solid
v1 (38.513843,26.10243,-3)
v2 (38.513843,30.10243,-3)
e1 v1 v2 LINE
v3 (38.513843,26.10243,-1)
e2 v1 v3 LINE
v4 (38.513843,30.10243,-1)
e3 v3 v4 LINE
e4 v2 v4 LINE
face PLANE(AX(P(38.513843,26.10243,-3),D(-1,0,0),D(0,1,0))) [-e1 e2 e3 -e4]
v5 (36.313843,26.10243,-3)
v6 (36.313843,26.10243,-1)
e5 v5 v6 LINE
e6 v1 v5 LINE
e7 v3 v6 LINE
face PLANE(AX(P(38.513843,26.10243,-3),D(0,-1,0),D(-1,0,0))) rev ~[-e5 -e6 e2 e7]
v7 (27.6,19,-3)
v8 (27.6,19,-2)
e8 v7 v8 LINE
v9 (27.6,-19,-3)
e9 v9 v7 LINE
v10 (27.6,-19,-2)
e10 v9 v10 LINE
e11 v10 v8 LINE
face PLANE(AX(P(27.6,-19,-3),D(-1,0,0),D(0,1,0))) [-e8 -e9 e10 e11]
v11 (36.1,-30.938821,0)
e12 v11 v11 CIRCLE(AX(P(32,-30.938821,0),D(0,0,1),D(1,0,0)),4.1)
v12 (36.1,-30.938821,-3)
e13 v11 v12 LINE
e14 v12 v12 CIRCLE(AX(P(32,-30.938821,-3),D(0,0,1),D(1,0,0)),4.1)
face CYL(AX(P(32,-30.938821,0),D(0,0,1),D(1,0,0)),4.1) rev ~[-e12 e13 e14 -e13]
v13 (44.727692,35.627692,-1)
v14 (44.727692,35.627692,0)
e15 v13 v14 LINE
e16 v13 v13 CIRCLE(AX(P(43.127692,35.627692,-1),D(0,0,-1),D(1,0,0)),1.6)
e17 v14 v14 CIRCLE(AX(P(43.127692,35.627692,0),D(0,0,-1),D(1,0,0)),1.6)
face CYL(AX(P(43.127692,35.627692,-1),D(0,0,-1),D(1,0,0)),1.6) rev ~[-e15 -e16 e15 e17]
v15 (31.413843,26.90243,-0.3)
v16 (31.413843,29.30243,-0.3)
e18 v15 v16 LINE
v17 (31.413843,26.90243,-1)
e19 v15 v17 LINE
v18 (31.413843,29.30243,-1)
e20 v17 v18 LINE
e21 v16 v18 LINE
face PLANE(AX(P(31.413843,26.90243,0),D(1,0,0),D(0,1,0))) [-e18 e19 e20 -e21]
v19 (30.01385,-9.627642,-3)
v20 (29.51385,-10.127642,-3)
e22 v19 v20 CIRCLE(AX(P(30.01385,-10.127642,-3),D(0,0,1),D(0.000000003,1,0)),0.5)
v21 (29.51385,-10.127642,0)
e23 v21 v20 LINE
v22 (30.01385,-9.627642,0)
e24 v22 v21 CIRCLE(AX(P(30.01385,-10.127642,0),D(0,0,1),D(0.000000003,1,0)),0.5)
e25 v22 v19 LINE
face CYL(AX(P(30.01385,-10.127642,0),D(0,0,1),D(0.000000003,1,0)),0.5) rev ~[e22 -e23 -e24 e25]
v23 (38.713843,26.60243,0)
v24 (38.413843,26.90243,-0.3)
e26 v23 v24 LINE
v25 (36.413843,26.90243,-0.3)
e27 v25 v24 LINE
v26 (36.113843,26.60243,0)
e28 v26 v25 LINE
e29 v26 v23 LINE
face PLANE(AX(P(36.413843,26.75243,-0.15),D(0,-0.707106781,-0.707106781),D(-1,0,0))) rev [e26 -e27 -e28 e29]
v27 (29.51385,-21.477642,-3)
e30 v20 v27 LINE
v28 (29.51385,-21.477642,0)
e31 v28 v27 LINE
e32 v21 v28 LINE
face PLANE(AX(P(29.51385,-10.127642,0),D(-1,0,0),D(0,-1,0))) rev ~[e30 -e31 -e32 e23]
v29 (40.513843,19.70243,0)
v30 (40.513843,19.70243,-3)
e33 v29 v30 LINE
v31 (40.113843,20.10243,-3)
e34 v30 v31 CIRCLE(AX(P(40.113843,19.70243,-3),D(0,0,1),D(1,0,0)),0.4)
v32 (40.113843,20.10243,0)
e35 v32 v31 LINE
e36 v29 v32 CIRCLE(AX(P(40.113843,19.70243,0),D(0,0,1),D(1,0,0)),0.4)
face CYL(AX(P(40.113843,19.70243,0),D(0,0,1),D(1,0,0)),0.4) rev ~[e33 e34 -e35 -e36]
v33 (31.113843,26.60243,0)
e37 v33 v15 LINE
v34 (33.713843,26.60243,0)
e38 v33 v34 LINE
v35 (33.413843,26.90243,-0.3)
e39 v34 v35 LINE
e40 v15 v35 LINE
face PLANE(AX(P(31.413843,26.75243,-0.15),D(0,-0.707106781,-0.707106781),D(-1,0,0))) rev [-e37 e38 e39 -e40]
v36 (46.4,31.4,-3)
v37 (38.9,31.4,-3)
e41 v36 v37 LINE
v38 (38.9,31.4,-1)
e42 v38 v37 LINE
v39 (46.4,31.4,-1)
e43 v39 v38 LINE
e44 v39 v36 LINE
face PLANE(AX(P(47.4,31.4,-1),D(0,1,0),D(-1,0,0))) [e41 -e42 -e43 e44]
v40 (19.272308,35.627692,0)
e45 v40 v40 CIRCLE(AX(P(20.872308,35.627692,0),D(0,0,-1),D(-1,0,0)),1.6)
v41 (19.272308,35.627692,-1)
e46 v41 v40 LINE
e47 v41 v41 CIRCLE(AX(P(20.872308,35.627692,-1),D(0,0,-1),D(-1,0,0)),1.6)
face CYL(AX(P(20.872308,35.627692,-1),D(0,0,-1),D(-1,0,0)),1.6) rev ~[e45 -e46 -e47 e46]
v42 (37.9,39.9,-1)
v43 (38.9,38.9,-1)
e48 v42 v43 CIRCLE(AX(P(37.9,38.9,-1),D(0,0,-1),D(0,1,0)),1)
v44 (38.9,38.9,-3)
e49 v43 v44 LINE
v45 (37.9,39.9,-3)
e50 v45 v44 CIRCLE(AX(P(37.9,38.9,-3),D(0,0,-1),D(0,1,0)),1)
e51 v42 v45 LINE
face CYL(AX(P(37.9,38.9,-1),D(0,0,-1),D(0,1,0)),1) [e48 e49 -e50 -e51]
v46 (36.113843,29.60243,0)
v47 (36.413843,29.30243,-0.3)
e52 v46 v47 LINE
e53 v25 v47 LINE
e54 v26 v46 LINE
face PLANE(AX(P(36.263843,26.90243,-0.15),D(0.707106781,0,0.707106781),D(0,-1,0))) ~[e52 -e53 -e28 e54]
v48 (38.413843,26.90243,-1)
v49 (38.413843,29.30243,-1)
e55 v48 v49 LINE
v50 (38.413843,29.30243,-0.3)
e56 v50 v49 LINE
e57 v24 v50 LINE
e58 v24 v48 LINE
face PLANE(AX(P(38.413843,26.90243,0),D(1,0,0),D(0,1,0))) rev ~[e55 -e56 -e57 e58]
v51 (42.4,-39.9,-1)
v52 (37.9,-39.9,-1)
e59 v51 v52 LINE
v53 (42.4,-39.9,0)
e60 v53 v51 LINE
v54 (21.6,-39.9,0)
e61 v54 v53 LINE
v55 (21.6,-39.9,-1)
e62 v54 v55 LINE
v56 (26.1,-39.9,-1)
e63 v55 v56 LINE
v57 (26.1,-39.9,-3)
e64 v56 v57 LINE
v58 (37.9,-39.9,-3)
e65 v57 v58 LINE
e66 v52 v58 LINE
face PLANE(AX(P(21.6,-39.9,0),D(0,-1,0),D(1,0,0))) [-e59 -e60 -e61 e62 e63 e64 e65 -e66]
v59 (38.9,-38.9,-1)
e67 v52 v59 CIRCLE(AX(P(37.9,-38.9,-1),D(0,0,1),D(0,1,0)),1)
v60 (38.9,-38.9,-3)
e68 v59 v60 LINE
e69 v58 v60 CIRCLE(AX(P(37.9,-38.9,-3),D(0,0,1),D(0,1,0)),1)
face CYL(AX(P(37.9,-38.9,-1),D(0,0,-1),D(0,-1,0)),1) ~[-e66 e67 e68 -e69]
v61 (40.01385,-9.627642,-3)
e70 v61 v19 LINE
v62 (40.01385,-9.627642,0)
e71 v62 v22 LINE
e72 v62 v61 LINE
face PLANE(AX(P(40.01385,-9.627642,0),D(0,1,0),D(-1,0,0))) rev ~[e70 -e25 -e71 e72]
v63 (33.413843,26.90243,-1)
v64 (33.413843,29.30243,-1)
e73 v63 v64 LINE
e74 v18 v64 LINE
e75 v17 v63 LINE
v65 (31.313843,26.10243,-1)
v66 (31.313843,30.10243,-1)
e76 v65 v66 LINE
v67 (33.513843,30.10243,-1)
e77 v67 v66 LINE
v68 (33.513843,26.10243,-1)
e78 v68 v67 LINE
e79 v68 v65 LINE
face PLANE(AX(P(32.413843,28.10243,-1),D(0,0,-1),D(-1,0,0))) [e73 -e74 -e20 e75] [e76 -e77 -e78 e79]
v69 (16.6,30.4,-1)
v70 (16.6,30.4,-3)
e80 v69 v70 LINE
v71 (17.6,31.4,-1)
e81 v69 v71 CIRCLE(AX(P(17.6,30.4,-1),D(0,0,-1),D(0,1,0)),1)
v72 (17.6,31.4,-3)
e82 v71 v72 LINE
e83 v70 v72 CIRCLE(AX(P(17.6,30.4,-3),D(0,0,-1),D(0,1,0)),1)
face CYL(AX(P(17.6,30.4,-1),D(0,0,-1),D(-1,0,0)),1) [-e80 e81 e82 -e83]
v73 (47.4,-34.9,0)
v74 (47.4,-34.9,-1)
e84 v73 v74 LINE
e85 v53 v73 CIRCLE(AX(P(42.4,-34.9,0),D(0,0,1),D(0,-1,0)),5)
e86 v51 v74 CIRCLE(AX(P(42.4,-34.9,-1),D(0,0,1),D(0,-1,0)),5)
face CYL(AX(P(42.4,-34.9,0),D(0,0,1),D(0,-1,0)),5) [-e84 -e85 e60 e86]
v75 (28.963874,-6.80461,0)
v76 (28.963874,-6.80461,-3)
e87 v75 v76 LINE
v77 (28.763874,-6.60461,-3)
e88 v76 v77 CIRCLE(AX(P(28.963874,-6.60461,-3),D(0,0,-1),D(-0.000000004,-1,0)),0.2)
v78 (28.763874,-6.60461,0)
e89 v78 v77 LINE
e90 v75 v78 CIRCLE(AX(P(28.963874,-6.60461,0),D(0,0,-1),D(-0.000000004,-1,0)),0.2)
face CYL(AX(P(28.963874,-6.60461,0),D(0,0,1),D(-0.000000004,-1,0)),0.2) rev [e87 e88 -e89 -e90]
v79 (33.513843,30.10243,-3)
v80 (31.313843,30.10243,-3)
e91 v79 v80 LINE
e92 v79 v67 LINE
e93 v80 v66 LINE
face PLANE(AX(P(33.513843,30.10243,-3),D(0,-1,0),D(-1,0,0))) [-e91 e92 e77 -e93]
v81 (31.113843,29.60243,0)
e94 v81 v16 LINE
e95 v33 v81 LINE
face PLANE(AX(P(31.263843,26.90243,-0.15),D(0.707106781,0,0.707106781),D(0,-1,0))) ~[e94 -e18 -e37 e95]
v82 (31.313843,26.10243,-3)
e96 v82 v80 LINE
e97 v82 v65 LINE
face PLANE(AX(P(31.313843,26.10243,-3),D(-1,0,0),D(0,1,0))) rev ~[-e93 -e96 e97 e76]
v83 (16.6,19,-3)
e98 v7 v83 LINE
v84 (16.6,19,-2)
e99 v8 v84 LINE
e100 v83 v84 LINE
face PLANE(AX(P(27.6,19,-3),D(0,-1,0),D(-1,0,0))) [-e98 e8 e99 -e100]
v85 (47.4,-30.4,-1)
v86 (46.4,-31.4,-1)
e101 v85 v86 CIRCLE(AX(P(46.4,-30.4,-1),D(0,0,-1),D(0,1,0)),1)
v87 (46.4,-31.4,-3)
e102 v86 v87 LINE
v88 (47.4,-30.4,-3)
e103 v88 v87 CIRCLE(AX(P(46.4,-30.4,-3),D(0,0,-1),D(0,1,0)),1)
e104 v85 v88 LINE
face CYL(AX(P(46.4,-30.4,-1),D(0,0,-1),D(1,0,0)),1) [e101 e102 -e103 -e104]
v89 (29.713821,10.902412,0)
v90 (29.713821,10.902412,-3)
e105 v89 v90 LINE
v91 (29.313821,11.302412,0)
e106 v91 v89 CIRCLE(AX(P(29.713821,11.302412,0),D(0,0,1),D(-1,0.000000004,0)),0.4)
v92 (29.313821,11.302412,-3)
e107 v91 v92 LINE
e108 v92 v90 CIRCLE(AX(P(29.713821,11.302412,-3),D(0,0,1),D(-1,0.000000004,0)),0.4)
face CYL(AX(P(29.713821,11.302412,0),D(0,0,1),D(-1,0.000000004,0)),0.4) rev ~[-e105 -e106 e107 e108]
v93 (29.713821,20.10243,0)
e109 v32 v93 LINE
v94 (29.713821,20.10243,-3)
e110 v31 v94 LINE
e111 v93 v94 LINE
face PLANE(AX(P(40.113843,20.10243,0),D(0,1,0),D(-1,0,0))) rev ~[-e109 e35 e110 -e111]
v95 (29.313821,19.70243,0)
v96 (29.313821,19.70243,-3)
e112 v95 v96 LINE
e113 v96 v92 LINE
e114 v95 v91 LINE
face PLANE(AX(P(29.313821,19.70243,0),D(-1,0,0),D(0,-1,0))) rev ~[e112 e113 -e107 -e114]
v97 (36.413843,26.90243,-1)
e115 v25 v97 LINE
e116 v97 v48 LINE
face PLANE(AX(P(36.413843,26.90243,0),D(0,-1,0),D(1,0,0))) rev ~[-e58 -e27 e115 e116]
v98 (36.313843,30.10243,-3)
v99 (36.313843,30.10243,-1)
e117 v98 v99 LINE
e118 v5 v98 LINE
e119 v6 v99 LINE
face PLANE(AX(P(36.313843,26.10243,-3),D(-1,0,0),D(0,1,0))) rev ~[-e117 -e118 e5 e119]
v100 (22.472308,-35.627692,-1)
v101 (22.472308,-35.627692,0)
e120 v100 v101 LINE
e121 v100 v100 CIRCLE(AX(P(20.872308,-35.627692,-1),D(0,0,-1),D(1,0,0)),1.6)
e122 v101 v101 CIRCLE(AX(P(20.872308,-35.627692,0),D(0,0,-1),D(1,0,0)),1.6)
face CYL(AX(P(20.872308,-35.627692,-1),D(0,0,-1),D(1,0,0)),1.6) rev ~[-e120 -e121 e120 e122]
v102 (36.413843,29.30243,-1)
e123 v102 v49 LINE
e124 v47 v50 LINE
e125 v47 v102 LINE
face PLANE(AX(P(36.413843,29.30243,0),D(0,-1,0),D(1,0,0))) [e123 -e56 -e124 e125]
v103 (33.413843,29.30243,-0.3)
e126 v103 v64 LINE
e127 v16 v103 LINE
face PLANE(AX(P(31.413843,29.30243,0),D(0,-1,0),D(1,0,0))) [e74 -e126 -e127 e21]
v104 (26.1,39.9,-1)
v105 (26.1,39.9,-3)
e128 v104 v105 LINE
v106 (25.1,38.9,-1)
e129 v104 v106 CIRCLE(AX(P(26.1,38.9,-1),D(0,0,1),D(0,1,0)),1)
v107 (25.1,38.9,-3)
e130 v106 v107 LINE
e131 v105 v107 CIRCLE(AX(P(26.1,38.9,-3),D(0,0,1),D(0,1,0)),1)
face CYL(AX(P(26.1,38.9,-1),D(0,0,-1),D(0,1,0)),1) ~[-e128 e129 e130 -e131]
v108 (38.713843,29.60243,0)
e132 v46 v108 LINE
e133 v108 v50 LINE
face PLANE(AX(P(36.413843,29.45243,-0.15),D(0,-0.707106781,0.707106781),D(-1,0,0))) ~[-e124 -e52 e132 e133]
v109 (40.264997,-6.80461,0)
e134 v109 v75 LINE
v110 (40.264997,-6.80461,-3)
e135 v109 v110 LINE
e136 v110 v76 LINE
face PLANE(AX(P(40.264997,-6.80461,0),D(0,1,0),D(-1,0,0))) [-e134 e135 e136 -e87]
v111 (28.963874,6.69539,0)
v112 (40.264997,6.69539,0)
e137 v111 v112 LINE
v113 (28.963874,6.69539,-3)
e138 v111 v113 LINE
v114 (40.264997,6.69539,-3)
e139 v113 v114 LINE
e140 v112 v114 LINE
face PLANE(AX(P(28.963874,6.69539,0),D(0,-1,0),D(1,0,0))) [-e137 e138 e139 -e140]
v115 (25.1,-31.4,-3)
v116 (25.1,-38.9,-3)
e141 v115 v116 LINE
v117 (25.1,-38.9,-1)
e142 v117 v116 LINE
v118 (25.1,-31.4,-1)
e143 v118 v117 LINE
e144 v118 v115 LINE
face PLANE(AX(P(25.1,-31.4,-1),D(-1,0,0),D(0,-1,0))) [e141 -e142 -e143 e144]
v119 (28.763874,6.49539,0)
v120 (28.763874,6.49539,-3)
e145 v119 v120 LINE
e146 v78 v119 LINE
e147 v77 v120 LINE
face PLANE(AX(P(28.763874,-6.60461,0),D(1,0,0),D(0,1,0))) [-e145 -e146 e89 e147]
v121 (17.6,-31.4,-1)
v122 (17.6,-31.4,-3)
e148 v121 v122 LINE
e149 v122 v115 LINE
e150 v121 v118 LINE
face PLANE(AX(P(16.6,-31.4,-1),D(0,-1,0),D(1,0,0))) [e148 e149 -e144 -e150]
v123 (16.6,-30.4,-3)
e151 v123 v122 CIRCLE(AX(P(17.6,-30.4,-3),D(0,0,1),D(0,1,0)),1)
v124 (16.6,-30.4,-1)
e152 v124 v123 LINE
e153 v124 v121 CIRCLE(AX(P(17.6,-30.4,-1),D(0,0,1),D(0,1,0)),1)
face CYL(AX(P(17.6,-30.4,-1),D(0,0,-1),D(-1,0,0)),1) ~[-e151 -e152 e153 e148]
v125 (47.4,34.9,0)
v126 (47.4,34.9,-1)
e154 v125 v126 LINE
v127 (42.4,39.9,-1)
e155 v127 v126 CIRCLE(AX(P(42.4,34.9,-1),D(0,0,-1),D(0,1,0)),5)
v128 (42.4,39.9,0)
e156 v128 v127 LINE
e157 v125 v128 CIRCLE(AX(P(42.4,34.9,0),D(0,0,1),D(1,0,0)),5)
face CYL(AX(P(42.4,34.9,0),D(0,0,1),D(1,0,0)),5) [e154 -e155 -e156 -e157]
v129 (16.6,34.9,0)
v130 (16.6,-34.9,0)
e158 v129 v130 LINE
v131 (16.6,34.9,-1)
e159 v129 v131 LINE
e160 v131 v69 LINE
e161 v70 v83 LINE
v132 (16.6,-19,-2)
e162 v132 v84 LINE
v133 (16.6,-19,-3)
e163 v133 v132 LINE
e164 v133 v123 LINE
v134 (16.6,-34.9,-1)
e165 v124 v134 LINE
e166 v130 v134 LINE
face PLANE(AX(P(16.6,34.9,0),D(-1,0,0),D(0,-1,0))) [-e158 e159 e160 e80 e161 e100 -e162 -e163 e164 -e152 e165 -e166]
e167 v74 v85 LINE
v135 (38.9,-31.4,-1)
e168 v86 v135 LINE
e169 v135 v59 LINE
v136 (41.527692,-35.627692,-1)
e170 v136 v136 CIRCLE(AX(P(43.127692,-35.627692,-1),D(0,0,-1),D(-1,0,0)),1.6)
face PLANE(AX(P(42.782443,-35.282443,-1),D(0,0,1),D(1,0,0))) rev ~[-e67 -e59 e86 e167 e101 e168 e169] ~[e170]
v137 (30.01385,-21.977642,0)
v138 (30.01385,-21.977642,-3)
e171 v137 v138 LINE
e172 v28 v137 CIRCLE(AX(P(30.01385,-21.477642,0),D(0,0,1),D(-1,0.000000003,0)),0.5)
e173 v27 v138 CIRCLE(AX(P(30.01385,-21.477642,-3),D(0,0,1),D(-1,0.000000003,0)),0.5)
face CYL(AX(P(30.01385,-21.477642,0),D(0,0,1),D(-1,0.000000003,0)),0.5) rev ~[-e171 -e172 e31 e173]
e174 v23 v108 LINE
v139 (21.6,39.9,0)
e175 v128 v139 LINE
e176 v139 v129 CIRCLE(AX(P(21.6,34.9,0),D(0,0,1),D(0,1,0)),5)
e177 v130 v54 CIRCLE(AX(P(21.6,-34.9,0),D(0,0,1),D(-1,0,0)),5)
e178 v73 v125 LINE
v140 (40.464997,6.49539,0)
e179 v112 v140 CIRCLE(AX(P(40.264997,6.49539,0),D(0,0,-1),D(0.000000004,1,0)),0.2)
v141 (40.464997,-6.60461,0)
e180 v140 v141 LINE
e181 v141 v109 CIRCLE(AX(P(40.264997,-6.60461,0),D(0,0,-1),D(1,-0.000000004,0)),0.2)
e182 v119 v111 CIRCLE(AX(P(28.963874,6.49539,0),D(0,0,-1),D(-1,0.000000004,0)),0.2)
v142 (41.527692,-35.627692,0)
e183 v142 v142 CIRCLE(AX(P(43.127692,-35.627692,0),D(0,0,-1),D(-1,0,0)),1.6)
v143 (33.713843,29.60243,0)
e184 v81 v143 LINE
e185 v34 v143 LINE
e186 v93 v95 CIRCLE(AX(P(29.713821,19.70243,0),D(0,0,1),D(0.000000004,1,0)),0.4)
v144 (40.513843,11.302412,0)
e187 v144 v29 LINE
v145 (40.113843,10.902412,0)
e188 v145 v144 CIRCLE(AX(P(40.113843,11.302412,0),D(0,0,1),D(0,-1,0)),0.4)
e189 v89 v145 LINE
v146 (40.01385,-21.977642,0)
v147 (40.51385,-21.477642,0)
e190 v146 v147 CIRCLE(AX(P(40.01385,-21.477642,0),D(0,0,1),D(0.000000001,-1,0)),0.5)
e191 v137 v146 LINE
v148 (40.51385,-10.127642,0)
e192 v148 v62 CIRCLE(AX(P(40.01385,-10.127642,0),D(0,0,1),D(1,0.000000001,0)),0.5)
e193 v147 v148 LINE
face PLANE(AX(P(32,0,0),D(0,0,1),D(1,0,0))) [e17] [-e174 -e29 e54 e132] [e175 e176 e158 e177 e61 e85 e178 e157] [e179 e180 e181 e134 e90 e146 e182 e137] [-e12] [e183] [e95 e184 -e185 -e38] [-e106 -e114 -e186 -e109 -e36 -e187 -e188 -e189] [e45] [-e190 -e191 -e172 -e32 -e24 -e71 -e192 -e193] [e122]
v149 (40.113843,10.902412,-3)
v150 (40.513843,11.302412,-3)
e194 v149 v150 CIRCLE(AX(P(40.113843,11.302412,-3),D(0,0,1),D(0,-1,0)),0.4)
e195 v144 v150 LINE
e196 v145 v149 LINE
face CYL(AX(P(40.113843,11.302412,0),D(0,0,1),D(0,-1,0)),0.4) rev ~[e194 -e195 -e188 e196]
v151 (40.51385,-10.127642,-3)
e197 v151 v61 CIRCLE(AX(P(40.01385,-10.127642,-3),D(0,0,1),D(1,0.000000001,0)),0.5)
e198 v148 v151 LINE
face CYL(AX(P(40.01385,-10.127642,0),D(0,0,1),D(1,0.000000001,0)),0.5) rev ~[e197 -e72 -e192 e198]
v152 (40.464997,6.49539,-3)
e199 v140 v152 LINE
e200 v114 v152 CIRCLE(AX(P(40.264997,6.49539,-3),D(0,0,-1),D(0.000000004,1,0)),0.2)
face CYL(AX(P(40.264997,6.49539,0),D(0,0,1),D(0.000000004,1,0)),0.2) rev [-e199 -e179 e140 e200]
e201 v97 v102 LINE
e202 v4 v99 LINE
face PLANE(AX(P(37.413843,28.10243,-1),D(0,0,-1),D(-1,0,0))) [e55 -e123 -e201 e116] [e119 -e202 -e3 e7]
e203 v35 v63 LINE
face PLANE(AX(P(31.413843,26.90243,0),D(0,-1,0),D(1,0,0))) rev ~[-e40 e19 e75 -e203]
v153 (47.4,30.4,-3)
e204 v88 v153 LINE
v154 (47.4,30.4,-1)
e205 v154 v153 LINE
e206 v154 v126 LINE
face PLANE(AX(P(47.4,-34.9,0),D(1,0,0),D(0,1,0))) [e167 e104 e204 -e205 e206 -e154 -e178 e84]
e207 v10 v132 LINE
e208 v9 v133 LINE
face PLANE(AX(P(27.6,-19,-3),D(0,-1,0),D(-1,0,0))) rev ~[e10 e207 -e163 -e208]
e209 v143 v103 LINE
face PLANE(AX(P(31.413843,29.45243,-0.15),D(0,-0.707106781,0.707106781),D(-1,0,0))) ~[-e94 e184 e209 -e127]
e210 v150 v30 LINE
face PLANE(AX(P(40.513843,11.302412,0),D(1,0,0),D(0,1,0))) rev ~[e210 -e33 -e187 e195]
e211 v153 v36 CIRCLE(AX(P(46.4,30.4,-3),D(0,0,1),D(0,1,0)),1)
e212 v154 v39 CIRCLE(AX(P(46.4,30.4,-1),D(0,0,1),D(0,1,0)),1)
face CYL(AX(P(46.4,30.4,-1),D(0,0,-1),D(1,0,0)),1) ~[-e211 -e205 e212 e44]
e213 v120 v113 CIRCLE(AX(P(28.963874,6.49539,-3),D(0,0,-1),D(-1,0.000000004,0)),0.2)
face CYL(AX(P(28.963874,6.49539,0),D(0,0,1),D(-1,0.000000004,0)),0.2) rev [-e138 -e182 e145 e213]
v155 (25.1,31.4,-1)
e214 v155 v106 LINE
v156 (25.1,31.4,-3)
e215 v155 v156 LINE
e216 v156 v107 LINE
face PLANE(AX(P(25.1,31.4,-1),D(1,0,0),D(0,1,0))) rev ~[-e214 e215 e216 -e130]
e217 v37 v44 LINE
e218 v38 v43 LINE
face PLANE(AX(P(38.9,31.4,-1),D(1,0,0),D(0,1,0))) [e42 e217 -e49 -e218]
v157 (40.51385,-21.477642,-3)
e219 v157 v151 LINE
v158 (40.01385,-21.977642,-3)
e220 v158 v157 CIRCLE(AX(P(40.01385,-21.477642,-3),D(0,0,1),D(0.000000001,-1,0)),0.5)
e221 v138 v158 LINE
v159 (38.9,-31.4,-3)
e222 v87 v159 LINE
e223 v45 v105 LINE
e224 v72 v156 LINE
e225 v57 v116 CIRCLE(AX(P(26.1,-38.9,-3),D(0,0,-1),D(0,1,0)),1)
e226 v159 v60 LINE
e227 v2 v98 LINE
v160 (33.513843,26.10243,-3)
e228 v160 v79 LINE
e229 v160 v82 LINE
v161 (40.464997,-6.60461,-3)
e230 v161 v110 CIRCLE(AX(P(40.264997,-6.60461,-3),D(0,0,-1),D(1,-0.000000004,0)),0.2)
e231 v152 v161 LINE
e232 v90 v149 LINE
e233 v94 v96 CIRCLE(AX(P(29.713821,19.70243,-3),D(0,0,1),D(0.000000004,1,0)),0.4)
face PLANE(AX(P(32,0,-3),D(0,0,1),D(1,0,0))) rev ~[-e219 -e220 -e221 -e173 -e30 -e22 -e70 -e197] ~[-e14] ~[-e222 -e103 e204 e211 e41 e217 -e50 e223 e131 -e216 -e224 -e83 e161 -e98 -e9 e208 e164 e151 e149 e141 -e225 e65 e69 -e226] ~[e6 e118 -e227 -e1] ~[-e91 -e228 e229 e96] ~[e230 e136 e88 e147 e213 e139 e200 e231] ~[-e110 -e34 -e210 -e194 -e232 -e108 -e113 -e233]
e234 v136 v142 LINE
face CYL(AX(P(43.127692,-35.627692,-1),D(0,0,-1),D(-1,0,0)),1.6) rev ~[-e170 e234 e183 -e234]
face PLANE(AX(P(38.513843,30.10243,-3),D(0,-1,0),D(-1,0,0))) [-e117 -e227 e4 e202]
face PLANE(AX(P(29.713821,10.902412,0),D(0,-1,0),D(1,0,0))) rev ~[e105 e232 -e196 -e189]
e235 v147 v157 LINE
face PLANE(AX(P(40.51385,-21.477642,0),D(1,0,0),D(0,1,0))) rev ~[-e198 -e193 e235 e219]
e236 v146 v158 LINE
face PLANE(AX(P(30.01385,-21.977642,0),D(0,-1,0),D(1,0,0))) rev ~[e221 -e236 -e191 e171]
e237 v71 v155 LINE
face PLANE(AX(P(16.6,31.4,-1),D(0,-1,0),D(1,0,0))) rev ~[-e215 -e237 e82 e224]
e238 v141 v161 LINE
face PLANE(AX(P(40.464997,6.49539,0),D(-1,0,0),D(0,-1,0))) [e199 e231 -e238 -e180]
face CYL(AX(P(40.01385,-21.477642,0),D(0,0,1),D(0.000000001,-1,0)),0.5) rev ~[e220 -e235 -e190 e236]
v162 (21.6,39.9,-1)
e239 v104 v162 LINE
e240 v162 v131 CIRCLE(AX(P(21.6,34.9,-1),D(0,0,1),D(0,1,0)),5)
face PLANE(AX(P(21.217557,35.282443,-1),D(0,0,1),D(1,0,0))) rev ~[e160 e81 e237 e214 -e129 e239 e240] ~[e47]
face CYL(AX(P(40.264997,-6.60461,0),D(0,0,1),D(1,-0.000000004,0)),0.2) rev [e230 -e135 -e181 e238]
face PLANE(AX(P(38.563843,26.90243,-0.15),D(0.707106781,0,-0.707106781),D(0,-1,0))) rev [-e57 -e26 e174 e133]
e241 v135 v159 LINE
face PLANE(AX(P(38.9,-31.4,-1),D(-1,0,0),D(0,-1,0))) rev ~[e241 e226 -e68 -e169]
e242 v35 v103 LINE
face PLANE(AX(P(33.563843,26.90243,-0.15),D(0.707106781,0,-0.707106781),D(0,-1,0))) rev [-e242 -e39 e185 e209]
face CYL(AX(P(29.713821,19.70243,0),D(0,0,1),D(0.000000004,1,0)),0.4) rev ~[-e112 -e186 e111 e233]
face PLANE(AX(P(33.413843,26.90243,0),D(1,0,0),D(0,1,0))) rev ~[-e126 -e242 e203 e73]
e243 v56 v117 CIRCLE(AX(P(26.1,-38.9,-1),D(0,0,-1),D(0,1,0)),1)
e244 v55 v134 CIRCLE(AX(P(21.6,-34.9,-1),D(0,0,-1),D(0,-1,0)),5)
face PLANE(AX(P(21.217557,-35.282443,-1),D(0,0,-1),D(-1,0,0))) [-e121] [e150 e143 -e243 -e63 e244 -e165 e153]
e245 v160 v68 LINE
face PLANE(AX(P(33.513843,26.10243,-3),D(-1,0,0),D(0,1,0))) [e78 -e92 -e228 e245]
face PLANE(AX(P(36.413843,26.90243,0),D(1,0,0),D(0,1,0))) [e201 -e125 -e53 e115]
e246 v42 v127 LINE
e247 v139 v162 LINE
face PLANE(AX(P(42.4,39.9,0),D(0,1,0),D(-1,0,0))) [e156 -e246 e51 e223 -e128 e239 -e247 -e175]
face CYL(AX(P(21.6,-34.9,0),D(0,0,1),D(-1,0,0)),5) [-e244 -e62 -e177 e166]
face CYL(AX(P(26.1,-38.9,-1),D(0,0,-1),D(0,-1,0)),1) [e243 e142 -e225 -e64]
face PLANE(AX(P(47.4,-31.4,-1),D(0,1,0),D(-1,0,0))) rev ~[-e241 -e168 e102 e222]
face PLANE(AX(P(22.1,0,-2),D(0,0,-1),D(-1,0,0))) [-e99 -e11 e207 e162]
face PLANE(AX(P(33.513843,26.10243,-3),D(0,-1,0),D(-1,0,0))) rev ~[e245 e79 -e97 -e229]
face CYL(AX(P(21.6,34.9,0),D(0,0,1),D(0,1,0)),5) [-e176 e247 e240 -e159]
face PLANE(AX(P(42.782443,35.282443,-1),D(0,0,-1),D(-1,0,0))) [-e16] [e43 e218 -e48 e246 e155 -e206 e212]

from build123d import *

# Parameters (mm, degrees)
SKETCH_1_W          = 2
SKETCH_1_H          = 2.4
EXTRUDE_1_DEPTH     = 3
SKETCH_2_W          = 11
SKETCH_2_H          = 38
CUT_EXTRUDE_1_DEPTH = 1
CUT_EXTRUDE_START   = -2
CUT_EXTRUDE_2_DEPTH = 2
SKETCH_4_R          = 1.6
CUT_EXTRUDE_3_DEPTH = 62.990079852
SKETCH_6_W          = 2.2
SKETCH_6_H          = 4
CUT_EXTRUDE_4_DEPTH = 2
SKETCH_7_R          = 4.1
CUT_EXTRUDE_5_DEPTH = 63.030395775
FILLET_1_R          = 1
CHAMFER_1_SIZE      = 0.3


with BuildPart() as part:
    # 草图1 → 凸台-拉伸1 (new body)
    with BuildSketch(Plane.XY):
        with BuildLine():
            Line((47.4, -34.9), (47.4, 34.9))
            ThreePointArc((47.4, 34.9), (45.935533906, 38.435533906), (42.4, 39.9))
            Line((42.4, 39.9), (21.6, 39.9))
            ThreePointArc((21.6, 39.9), (18.064466094, 38.435533906), (16.6, 34.9))
            Line((16.6, 34.9), (16.6, -34.9))
            ThreePointArc((16.6, -34.9), (18.064466094, -38.435533906), (21.6, -39.9))
            Line((21.6, -39.9), (42.4, -39.9))
            ThreePointArc((42.4, -39.9), (45.935533906, -38.435533906), (47.4, -34.9))
        make_face()
        with Locations((32.413843028, 28.102429875)):
            Rectangle(SKETCH_1_W, SKETCH_1_H, mode=Mode.SUBTRACT)
        with BuildLine():
            Line((40.513850359, -21.477641558), (40.513850359, -10.127641653))
            ThreePointArc((40.513850359, -10.127641653), (40.367403749, -9.774088262), (40.013850359, -9.627641653))
            Line((40.013850359, -9.627641653), (30.013850359, -9.627641653))
            ThreePointArc((30.013850359, -9.627641653), (29.660296968, -9.774088262), (29.513850359, -10.127641653))
            Line((29.513850359, -10.127641653), (29.513850359, -21.477641558))
            ThreePointArc((29.513850359, -21.477641558), (29.660296968, -21.831194949), (30.013850359, -21.977641558))
            Line((30.013850359, -21.977641558), (40.013850359, -21.977641558))
            ThreePointArc((40.013850359, -21.977641558), (40.367403749, -21.831194949), (40.513850359, -21.477641558))
        make_face(mode=Mode.SUBTRACT)
        with Locations((37.413843028, 28.102429875)):
            Rectangle(SKETCH_1_W, SKETCH_1_H, mode=Mode.SUBTRACT)
        with BuildLine():
            Line((40.464996896, 6.495389649), (40.464996896, -6.604609867))
            ThreePointArc((40.464996896, -6.604609867), (40.406418252, -6.746031223), (40.264996896, -6.804609867))
            Line((40.264996896, -6.804609867), (28.963873947, -6.804609867))
            ThreePointArc((28.963873947, -6.804609867), (28.822452591, -6.746031223), (28.763873947, -6.604609867))
            Line((28.763873947, -6.604609867), (28.763873947, 6.495389649))
            ThreePointArc((28.763873947, 6.495389649), (28.822452591, 6.636811005), (28.963873947, 6.695389649))
            Line((28.963873947, 6.695389649), (40.264996896, 6.695389649))
            ThreePointArc((40.264996896, 6.695389649), (40.406418252, 6.636811005), (40.464996896, 6.495389649))
        make_face(mode=Mode.SUBTRACT)
        with BuildLine():
            Line((40.513843009, 11.302412116), (40.513843009, 19.702429875))
            ThreePointArc((40.513843009, 19.702429875), (40.396685721, 19.985272588), (40.113843009, 20.102429875))
            Line((40.113843009, 20.102429875), (29.713821303, 20.102429875))
            ThreePointArc((29.713821303, 20.102429875), (29.43097859, 19.985272588), (29.313821303, 19.702429875))
            Line((29.313821303, 19.702429875), (29.313821303, 11.302412116))
            ThreePointArc((29.313821303, 11.302412116), (29.43097859, 11.019569403), (29.713821303, 10.902412116))
            Line((29.713821303, 10.902412116), (40.113843009, 10.902412116))
            ThreePointArc((40.113843009, 10.902412116), (40.396685721, 11.019569403), (40.513843009, 11.302412116))
        make_face(mode=Mode.SUBTRACT)
    extrude(amount=-EXTRUDE_1_DEPTH)

    # 草图2 → 切除-拉伸1 (cut)
    with BuildSketch(Plane(origin=(0, 0, -3), x_dir=(-1, 0, 0), z_dir=(0, 0, -1))):
        with Locations((-22.1, 0)):
            Rectangle(SKETCH_2_W, SKETCH_2_H)
    extrude(amount=-CUT_EXTRUDE_1_DEPTH, mode=Mode.SUBTRACT)

    # 草图3 → 切除-拉伸2 (cut)
    with BuildSketch(Plane(origin=(0, 0, -3), x_dir=(-1, 0, 0), z_dir=(0, 0, -1)).offset(CUT_EXTRUDE_START)):
        with BuildLine():
            Line((-47.4, -31.4), (-38.9, -31.4))
            Line((-38.9, -31.4), (-38.9, -39.9))
            Line((-38.9, -39.9), (-42.4, -39.9))
            ThreePointArc((-42.4, -39.9), (-45.935533906, -38.435533906), (-47.4, -34.9))
            Line((-47.4, -34.9), (-47.4, -31.4))
        make_face()
        with BuildLine():
            Line((-47.4, 34.9), (-47.4, 31.4))
            Line((-47.4, 31.4), (-38.9, 31.4))
            Line((-38.9, 31.4), (-38.9, 39.9))
            Line((-38.9, 39.9), (-42.4, 39.9))
            ThreePointArc((-42.4, 39.9), (-45.935533906, 38.435533906), (-47.4, 34.9))
        make_face()
        with BuildLine():
            Line((-16.6, 31.4), (-25.1, 31.4))
            Line((-25.1, 31.4), (-25.1, 39.9))
            Line((-25.1, 39.9), (-21.6, 39.9))
            ThreePointArc((-21.6, 39.9), (-18.064466094, 38.435533906), (-16.6, 34.9))
            Line((-16.6, 34.9), (-16.6, 31.4))
        make_face()
        with BuildLine():
            Line((-16.6, -34.9), (-16.6, -31.4))
            Line((-16.6, -31.4), (-25.1, -31.4))
            Line((-25.1, -31.4), (-25.1, -39.9))
            Line((-25.1, -39.9), (-21.6, -39.9))
            ThreePointArc((-21.6, -39.9), (-18.064466094, -38.435533906), (-16.6, -34.9))
        make_face()
    extrude(amount=CUT_EXTRUDE_2_DEPTH, mode=Mode.SUBTRACT)

    # 草图4 → 切除-拉伸3 (cut, through all)
    with BuildSketch(Plane(origin=(0, 0, -1), x_dir=(-1, 0, 0), z_dir=(0, 0, -1))):
        with Locations((-20.872307757, 35.627692243)):
            Circle(SKETCH_4_R)
        with Locations(Location((-20.872307757, -35.627692243, 0), (0, 0, 180))):
            Circle(SKETCH_4_R)
        with Locations((-43.127692243, -35.627692243)):
            Circle(SKETCH_4_R)
        with Locations(Location((-43.127692243, 35.627692243, 0), (0, 0, 180))):
            Circle(SKETCH_4_R)
    extrude(amount=-CUT_EXTRUDE_3_DEPTH, mode=Mode.SUBTRACT)

    # 草图6 → 切除-拉伸4 (cut)
    with BuildSketch(Plane(origin=(0, 0, -3), x_dir=(-1, 0, 0), z_dir=(0, 0, -1))):
        with Locations((-37.413843028, 28.102429875)):
            Rectangle(SKETCH_6_W, SKETCH_6_H)
        with Locations((-32.413843028, 28.102429875)):
            Rectangle(SKETCH_6_W, SKETCH_6_H)
    extrude(amount=-CUT_EXTRUDE_4_DEPTH, mode=Mode.SUBTRACT)

    # 草图7 → 切除-拉伸5 (cut, through all)
    with BuildSketch(Plane.XY):
        with Locations((32, -30.938820779)):
            Circle(SKETCH_7_R)
    extrude(amount=-CUT_EXTRUDE_5_DEPTH, mode=Mode.SUBTRACT)

    # 圆角1
    fillet_1_edges = [part.edges().sort_by_distance(p)[0] for p in [
        (25.1, -39.9, -2),
        (16.6, -31.4, -2),
        (16.6, 31.4, -2),
        (25.1, 39.9, -2),
        (38.9, 39.9, -2),
        (47.4, 31.4, -2),
        (47.4, -31.4, -2),
        (38.9, -39.9, -2),
    ]]
    fillet(fillet_1_edges, radius=FILLET_1_R)

    # 倒角1
    chamfer_1_edges = [part.edges().sort_by_distance(p)[0] for p in [
        (36.413843028, 28.102429875, 0),
        (37.413843028, 26.902429875, 0),
        (38.413843028, 28.102429875, 0),
        (37.413843028, 29.302429875, 0),
        (32.413843028, 29.302429875, 0),
        (31.413843028, 28.102429875, 0),
        (32.413843028, 26.902429875, 0),
        (33.413843028, 28.102429875, 0),
    ]]
    chamfer(chamfer_1_edges, length=CHAMFER_1_SIZE)


solid = part.part
